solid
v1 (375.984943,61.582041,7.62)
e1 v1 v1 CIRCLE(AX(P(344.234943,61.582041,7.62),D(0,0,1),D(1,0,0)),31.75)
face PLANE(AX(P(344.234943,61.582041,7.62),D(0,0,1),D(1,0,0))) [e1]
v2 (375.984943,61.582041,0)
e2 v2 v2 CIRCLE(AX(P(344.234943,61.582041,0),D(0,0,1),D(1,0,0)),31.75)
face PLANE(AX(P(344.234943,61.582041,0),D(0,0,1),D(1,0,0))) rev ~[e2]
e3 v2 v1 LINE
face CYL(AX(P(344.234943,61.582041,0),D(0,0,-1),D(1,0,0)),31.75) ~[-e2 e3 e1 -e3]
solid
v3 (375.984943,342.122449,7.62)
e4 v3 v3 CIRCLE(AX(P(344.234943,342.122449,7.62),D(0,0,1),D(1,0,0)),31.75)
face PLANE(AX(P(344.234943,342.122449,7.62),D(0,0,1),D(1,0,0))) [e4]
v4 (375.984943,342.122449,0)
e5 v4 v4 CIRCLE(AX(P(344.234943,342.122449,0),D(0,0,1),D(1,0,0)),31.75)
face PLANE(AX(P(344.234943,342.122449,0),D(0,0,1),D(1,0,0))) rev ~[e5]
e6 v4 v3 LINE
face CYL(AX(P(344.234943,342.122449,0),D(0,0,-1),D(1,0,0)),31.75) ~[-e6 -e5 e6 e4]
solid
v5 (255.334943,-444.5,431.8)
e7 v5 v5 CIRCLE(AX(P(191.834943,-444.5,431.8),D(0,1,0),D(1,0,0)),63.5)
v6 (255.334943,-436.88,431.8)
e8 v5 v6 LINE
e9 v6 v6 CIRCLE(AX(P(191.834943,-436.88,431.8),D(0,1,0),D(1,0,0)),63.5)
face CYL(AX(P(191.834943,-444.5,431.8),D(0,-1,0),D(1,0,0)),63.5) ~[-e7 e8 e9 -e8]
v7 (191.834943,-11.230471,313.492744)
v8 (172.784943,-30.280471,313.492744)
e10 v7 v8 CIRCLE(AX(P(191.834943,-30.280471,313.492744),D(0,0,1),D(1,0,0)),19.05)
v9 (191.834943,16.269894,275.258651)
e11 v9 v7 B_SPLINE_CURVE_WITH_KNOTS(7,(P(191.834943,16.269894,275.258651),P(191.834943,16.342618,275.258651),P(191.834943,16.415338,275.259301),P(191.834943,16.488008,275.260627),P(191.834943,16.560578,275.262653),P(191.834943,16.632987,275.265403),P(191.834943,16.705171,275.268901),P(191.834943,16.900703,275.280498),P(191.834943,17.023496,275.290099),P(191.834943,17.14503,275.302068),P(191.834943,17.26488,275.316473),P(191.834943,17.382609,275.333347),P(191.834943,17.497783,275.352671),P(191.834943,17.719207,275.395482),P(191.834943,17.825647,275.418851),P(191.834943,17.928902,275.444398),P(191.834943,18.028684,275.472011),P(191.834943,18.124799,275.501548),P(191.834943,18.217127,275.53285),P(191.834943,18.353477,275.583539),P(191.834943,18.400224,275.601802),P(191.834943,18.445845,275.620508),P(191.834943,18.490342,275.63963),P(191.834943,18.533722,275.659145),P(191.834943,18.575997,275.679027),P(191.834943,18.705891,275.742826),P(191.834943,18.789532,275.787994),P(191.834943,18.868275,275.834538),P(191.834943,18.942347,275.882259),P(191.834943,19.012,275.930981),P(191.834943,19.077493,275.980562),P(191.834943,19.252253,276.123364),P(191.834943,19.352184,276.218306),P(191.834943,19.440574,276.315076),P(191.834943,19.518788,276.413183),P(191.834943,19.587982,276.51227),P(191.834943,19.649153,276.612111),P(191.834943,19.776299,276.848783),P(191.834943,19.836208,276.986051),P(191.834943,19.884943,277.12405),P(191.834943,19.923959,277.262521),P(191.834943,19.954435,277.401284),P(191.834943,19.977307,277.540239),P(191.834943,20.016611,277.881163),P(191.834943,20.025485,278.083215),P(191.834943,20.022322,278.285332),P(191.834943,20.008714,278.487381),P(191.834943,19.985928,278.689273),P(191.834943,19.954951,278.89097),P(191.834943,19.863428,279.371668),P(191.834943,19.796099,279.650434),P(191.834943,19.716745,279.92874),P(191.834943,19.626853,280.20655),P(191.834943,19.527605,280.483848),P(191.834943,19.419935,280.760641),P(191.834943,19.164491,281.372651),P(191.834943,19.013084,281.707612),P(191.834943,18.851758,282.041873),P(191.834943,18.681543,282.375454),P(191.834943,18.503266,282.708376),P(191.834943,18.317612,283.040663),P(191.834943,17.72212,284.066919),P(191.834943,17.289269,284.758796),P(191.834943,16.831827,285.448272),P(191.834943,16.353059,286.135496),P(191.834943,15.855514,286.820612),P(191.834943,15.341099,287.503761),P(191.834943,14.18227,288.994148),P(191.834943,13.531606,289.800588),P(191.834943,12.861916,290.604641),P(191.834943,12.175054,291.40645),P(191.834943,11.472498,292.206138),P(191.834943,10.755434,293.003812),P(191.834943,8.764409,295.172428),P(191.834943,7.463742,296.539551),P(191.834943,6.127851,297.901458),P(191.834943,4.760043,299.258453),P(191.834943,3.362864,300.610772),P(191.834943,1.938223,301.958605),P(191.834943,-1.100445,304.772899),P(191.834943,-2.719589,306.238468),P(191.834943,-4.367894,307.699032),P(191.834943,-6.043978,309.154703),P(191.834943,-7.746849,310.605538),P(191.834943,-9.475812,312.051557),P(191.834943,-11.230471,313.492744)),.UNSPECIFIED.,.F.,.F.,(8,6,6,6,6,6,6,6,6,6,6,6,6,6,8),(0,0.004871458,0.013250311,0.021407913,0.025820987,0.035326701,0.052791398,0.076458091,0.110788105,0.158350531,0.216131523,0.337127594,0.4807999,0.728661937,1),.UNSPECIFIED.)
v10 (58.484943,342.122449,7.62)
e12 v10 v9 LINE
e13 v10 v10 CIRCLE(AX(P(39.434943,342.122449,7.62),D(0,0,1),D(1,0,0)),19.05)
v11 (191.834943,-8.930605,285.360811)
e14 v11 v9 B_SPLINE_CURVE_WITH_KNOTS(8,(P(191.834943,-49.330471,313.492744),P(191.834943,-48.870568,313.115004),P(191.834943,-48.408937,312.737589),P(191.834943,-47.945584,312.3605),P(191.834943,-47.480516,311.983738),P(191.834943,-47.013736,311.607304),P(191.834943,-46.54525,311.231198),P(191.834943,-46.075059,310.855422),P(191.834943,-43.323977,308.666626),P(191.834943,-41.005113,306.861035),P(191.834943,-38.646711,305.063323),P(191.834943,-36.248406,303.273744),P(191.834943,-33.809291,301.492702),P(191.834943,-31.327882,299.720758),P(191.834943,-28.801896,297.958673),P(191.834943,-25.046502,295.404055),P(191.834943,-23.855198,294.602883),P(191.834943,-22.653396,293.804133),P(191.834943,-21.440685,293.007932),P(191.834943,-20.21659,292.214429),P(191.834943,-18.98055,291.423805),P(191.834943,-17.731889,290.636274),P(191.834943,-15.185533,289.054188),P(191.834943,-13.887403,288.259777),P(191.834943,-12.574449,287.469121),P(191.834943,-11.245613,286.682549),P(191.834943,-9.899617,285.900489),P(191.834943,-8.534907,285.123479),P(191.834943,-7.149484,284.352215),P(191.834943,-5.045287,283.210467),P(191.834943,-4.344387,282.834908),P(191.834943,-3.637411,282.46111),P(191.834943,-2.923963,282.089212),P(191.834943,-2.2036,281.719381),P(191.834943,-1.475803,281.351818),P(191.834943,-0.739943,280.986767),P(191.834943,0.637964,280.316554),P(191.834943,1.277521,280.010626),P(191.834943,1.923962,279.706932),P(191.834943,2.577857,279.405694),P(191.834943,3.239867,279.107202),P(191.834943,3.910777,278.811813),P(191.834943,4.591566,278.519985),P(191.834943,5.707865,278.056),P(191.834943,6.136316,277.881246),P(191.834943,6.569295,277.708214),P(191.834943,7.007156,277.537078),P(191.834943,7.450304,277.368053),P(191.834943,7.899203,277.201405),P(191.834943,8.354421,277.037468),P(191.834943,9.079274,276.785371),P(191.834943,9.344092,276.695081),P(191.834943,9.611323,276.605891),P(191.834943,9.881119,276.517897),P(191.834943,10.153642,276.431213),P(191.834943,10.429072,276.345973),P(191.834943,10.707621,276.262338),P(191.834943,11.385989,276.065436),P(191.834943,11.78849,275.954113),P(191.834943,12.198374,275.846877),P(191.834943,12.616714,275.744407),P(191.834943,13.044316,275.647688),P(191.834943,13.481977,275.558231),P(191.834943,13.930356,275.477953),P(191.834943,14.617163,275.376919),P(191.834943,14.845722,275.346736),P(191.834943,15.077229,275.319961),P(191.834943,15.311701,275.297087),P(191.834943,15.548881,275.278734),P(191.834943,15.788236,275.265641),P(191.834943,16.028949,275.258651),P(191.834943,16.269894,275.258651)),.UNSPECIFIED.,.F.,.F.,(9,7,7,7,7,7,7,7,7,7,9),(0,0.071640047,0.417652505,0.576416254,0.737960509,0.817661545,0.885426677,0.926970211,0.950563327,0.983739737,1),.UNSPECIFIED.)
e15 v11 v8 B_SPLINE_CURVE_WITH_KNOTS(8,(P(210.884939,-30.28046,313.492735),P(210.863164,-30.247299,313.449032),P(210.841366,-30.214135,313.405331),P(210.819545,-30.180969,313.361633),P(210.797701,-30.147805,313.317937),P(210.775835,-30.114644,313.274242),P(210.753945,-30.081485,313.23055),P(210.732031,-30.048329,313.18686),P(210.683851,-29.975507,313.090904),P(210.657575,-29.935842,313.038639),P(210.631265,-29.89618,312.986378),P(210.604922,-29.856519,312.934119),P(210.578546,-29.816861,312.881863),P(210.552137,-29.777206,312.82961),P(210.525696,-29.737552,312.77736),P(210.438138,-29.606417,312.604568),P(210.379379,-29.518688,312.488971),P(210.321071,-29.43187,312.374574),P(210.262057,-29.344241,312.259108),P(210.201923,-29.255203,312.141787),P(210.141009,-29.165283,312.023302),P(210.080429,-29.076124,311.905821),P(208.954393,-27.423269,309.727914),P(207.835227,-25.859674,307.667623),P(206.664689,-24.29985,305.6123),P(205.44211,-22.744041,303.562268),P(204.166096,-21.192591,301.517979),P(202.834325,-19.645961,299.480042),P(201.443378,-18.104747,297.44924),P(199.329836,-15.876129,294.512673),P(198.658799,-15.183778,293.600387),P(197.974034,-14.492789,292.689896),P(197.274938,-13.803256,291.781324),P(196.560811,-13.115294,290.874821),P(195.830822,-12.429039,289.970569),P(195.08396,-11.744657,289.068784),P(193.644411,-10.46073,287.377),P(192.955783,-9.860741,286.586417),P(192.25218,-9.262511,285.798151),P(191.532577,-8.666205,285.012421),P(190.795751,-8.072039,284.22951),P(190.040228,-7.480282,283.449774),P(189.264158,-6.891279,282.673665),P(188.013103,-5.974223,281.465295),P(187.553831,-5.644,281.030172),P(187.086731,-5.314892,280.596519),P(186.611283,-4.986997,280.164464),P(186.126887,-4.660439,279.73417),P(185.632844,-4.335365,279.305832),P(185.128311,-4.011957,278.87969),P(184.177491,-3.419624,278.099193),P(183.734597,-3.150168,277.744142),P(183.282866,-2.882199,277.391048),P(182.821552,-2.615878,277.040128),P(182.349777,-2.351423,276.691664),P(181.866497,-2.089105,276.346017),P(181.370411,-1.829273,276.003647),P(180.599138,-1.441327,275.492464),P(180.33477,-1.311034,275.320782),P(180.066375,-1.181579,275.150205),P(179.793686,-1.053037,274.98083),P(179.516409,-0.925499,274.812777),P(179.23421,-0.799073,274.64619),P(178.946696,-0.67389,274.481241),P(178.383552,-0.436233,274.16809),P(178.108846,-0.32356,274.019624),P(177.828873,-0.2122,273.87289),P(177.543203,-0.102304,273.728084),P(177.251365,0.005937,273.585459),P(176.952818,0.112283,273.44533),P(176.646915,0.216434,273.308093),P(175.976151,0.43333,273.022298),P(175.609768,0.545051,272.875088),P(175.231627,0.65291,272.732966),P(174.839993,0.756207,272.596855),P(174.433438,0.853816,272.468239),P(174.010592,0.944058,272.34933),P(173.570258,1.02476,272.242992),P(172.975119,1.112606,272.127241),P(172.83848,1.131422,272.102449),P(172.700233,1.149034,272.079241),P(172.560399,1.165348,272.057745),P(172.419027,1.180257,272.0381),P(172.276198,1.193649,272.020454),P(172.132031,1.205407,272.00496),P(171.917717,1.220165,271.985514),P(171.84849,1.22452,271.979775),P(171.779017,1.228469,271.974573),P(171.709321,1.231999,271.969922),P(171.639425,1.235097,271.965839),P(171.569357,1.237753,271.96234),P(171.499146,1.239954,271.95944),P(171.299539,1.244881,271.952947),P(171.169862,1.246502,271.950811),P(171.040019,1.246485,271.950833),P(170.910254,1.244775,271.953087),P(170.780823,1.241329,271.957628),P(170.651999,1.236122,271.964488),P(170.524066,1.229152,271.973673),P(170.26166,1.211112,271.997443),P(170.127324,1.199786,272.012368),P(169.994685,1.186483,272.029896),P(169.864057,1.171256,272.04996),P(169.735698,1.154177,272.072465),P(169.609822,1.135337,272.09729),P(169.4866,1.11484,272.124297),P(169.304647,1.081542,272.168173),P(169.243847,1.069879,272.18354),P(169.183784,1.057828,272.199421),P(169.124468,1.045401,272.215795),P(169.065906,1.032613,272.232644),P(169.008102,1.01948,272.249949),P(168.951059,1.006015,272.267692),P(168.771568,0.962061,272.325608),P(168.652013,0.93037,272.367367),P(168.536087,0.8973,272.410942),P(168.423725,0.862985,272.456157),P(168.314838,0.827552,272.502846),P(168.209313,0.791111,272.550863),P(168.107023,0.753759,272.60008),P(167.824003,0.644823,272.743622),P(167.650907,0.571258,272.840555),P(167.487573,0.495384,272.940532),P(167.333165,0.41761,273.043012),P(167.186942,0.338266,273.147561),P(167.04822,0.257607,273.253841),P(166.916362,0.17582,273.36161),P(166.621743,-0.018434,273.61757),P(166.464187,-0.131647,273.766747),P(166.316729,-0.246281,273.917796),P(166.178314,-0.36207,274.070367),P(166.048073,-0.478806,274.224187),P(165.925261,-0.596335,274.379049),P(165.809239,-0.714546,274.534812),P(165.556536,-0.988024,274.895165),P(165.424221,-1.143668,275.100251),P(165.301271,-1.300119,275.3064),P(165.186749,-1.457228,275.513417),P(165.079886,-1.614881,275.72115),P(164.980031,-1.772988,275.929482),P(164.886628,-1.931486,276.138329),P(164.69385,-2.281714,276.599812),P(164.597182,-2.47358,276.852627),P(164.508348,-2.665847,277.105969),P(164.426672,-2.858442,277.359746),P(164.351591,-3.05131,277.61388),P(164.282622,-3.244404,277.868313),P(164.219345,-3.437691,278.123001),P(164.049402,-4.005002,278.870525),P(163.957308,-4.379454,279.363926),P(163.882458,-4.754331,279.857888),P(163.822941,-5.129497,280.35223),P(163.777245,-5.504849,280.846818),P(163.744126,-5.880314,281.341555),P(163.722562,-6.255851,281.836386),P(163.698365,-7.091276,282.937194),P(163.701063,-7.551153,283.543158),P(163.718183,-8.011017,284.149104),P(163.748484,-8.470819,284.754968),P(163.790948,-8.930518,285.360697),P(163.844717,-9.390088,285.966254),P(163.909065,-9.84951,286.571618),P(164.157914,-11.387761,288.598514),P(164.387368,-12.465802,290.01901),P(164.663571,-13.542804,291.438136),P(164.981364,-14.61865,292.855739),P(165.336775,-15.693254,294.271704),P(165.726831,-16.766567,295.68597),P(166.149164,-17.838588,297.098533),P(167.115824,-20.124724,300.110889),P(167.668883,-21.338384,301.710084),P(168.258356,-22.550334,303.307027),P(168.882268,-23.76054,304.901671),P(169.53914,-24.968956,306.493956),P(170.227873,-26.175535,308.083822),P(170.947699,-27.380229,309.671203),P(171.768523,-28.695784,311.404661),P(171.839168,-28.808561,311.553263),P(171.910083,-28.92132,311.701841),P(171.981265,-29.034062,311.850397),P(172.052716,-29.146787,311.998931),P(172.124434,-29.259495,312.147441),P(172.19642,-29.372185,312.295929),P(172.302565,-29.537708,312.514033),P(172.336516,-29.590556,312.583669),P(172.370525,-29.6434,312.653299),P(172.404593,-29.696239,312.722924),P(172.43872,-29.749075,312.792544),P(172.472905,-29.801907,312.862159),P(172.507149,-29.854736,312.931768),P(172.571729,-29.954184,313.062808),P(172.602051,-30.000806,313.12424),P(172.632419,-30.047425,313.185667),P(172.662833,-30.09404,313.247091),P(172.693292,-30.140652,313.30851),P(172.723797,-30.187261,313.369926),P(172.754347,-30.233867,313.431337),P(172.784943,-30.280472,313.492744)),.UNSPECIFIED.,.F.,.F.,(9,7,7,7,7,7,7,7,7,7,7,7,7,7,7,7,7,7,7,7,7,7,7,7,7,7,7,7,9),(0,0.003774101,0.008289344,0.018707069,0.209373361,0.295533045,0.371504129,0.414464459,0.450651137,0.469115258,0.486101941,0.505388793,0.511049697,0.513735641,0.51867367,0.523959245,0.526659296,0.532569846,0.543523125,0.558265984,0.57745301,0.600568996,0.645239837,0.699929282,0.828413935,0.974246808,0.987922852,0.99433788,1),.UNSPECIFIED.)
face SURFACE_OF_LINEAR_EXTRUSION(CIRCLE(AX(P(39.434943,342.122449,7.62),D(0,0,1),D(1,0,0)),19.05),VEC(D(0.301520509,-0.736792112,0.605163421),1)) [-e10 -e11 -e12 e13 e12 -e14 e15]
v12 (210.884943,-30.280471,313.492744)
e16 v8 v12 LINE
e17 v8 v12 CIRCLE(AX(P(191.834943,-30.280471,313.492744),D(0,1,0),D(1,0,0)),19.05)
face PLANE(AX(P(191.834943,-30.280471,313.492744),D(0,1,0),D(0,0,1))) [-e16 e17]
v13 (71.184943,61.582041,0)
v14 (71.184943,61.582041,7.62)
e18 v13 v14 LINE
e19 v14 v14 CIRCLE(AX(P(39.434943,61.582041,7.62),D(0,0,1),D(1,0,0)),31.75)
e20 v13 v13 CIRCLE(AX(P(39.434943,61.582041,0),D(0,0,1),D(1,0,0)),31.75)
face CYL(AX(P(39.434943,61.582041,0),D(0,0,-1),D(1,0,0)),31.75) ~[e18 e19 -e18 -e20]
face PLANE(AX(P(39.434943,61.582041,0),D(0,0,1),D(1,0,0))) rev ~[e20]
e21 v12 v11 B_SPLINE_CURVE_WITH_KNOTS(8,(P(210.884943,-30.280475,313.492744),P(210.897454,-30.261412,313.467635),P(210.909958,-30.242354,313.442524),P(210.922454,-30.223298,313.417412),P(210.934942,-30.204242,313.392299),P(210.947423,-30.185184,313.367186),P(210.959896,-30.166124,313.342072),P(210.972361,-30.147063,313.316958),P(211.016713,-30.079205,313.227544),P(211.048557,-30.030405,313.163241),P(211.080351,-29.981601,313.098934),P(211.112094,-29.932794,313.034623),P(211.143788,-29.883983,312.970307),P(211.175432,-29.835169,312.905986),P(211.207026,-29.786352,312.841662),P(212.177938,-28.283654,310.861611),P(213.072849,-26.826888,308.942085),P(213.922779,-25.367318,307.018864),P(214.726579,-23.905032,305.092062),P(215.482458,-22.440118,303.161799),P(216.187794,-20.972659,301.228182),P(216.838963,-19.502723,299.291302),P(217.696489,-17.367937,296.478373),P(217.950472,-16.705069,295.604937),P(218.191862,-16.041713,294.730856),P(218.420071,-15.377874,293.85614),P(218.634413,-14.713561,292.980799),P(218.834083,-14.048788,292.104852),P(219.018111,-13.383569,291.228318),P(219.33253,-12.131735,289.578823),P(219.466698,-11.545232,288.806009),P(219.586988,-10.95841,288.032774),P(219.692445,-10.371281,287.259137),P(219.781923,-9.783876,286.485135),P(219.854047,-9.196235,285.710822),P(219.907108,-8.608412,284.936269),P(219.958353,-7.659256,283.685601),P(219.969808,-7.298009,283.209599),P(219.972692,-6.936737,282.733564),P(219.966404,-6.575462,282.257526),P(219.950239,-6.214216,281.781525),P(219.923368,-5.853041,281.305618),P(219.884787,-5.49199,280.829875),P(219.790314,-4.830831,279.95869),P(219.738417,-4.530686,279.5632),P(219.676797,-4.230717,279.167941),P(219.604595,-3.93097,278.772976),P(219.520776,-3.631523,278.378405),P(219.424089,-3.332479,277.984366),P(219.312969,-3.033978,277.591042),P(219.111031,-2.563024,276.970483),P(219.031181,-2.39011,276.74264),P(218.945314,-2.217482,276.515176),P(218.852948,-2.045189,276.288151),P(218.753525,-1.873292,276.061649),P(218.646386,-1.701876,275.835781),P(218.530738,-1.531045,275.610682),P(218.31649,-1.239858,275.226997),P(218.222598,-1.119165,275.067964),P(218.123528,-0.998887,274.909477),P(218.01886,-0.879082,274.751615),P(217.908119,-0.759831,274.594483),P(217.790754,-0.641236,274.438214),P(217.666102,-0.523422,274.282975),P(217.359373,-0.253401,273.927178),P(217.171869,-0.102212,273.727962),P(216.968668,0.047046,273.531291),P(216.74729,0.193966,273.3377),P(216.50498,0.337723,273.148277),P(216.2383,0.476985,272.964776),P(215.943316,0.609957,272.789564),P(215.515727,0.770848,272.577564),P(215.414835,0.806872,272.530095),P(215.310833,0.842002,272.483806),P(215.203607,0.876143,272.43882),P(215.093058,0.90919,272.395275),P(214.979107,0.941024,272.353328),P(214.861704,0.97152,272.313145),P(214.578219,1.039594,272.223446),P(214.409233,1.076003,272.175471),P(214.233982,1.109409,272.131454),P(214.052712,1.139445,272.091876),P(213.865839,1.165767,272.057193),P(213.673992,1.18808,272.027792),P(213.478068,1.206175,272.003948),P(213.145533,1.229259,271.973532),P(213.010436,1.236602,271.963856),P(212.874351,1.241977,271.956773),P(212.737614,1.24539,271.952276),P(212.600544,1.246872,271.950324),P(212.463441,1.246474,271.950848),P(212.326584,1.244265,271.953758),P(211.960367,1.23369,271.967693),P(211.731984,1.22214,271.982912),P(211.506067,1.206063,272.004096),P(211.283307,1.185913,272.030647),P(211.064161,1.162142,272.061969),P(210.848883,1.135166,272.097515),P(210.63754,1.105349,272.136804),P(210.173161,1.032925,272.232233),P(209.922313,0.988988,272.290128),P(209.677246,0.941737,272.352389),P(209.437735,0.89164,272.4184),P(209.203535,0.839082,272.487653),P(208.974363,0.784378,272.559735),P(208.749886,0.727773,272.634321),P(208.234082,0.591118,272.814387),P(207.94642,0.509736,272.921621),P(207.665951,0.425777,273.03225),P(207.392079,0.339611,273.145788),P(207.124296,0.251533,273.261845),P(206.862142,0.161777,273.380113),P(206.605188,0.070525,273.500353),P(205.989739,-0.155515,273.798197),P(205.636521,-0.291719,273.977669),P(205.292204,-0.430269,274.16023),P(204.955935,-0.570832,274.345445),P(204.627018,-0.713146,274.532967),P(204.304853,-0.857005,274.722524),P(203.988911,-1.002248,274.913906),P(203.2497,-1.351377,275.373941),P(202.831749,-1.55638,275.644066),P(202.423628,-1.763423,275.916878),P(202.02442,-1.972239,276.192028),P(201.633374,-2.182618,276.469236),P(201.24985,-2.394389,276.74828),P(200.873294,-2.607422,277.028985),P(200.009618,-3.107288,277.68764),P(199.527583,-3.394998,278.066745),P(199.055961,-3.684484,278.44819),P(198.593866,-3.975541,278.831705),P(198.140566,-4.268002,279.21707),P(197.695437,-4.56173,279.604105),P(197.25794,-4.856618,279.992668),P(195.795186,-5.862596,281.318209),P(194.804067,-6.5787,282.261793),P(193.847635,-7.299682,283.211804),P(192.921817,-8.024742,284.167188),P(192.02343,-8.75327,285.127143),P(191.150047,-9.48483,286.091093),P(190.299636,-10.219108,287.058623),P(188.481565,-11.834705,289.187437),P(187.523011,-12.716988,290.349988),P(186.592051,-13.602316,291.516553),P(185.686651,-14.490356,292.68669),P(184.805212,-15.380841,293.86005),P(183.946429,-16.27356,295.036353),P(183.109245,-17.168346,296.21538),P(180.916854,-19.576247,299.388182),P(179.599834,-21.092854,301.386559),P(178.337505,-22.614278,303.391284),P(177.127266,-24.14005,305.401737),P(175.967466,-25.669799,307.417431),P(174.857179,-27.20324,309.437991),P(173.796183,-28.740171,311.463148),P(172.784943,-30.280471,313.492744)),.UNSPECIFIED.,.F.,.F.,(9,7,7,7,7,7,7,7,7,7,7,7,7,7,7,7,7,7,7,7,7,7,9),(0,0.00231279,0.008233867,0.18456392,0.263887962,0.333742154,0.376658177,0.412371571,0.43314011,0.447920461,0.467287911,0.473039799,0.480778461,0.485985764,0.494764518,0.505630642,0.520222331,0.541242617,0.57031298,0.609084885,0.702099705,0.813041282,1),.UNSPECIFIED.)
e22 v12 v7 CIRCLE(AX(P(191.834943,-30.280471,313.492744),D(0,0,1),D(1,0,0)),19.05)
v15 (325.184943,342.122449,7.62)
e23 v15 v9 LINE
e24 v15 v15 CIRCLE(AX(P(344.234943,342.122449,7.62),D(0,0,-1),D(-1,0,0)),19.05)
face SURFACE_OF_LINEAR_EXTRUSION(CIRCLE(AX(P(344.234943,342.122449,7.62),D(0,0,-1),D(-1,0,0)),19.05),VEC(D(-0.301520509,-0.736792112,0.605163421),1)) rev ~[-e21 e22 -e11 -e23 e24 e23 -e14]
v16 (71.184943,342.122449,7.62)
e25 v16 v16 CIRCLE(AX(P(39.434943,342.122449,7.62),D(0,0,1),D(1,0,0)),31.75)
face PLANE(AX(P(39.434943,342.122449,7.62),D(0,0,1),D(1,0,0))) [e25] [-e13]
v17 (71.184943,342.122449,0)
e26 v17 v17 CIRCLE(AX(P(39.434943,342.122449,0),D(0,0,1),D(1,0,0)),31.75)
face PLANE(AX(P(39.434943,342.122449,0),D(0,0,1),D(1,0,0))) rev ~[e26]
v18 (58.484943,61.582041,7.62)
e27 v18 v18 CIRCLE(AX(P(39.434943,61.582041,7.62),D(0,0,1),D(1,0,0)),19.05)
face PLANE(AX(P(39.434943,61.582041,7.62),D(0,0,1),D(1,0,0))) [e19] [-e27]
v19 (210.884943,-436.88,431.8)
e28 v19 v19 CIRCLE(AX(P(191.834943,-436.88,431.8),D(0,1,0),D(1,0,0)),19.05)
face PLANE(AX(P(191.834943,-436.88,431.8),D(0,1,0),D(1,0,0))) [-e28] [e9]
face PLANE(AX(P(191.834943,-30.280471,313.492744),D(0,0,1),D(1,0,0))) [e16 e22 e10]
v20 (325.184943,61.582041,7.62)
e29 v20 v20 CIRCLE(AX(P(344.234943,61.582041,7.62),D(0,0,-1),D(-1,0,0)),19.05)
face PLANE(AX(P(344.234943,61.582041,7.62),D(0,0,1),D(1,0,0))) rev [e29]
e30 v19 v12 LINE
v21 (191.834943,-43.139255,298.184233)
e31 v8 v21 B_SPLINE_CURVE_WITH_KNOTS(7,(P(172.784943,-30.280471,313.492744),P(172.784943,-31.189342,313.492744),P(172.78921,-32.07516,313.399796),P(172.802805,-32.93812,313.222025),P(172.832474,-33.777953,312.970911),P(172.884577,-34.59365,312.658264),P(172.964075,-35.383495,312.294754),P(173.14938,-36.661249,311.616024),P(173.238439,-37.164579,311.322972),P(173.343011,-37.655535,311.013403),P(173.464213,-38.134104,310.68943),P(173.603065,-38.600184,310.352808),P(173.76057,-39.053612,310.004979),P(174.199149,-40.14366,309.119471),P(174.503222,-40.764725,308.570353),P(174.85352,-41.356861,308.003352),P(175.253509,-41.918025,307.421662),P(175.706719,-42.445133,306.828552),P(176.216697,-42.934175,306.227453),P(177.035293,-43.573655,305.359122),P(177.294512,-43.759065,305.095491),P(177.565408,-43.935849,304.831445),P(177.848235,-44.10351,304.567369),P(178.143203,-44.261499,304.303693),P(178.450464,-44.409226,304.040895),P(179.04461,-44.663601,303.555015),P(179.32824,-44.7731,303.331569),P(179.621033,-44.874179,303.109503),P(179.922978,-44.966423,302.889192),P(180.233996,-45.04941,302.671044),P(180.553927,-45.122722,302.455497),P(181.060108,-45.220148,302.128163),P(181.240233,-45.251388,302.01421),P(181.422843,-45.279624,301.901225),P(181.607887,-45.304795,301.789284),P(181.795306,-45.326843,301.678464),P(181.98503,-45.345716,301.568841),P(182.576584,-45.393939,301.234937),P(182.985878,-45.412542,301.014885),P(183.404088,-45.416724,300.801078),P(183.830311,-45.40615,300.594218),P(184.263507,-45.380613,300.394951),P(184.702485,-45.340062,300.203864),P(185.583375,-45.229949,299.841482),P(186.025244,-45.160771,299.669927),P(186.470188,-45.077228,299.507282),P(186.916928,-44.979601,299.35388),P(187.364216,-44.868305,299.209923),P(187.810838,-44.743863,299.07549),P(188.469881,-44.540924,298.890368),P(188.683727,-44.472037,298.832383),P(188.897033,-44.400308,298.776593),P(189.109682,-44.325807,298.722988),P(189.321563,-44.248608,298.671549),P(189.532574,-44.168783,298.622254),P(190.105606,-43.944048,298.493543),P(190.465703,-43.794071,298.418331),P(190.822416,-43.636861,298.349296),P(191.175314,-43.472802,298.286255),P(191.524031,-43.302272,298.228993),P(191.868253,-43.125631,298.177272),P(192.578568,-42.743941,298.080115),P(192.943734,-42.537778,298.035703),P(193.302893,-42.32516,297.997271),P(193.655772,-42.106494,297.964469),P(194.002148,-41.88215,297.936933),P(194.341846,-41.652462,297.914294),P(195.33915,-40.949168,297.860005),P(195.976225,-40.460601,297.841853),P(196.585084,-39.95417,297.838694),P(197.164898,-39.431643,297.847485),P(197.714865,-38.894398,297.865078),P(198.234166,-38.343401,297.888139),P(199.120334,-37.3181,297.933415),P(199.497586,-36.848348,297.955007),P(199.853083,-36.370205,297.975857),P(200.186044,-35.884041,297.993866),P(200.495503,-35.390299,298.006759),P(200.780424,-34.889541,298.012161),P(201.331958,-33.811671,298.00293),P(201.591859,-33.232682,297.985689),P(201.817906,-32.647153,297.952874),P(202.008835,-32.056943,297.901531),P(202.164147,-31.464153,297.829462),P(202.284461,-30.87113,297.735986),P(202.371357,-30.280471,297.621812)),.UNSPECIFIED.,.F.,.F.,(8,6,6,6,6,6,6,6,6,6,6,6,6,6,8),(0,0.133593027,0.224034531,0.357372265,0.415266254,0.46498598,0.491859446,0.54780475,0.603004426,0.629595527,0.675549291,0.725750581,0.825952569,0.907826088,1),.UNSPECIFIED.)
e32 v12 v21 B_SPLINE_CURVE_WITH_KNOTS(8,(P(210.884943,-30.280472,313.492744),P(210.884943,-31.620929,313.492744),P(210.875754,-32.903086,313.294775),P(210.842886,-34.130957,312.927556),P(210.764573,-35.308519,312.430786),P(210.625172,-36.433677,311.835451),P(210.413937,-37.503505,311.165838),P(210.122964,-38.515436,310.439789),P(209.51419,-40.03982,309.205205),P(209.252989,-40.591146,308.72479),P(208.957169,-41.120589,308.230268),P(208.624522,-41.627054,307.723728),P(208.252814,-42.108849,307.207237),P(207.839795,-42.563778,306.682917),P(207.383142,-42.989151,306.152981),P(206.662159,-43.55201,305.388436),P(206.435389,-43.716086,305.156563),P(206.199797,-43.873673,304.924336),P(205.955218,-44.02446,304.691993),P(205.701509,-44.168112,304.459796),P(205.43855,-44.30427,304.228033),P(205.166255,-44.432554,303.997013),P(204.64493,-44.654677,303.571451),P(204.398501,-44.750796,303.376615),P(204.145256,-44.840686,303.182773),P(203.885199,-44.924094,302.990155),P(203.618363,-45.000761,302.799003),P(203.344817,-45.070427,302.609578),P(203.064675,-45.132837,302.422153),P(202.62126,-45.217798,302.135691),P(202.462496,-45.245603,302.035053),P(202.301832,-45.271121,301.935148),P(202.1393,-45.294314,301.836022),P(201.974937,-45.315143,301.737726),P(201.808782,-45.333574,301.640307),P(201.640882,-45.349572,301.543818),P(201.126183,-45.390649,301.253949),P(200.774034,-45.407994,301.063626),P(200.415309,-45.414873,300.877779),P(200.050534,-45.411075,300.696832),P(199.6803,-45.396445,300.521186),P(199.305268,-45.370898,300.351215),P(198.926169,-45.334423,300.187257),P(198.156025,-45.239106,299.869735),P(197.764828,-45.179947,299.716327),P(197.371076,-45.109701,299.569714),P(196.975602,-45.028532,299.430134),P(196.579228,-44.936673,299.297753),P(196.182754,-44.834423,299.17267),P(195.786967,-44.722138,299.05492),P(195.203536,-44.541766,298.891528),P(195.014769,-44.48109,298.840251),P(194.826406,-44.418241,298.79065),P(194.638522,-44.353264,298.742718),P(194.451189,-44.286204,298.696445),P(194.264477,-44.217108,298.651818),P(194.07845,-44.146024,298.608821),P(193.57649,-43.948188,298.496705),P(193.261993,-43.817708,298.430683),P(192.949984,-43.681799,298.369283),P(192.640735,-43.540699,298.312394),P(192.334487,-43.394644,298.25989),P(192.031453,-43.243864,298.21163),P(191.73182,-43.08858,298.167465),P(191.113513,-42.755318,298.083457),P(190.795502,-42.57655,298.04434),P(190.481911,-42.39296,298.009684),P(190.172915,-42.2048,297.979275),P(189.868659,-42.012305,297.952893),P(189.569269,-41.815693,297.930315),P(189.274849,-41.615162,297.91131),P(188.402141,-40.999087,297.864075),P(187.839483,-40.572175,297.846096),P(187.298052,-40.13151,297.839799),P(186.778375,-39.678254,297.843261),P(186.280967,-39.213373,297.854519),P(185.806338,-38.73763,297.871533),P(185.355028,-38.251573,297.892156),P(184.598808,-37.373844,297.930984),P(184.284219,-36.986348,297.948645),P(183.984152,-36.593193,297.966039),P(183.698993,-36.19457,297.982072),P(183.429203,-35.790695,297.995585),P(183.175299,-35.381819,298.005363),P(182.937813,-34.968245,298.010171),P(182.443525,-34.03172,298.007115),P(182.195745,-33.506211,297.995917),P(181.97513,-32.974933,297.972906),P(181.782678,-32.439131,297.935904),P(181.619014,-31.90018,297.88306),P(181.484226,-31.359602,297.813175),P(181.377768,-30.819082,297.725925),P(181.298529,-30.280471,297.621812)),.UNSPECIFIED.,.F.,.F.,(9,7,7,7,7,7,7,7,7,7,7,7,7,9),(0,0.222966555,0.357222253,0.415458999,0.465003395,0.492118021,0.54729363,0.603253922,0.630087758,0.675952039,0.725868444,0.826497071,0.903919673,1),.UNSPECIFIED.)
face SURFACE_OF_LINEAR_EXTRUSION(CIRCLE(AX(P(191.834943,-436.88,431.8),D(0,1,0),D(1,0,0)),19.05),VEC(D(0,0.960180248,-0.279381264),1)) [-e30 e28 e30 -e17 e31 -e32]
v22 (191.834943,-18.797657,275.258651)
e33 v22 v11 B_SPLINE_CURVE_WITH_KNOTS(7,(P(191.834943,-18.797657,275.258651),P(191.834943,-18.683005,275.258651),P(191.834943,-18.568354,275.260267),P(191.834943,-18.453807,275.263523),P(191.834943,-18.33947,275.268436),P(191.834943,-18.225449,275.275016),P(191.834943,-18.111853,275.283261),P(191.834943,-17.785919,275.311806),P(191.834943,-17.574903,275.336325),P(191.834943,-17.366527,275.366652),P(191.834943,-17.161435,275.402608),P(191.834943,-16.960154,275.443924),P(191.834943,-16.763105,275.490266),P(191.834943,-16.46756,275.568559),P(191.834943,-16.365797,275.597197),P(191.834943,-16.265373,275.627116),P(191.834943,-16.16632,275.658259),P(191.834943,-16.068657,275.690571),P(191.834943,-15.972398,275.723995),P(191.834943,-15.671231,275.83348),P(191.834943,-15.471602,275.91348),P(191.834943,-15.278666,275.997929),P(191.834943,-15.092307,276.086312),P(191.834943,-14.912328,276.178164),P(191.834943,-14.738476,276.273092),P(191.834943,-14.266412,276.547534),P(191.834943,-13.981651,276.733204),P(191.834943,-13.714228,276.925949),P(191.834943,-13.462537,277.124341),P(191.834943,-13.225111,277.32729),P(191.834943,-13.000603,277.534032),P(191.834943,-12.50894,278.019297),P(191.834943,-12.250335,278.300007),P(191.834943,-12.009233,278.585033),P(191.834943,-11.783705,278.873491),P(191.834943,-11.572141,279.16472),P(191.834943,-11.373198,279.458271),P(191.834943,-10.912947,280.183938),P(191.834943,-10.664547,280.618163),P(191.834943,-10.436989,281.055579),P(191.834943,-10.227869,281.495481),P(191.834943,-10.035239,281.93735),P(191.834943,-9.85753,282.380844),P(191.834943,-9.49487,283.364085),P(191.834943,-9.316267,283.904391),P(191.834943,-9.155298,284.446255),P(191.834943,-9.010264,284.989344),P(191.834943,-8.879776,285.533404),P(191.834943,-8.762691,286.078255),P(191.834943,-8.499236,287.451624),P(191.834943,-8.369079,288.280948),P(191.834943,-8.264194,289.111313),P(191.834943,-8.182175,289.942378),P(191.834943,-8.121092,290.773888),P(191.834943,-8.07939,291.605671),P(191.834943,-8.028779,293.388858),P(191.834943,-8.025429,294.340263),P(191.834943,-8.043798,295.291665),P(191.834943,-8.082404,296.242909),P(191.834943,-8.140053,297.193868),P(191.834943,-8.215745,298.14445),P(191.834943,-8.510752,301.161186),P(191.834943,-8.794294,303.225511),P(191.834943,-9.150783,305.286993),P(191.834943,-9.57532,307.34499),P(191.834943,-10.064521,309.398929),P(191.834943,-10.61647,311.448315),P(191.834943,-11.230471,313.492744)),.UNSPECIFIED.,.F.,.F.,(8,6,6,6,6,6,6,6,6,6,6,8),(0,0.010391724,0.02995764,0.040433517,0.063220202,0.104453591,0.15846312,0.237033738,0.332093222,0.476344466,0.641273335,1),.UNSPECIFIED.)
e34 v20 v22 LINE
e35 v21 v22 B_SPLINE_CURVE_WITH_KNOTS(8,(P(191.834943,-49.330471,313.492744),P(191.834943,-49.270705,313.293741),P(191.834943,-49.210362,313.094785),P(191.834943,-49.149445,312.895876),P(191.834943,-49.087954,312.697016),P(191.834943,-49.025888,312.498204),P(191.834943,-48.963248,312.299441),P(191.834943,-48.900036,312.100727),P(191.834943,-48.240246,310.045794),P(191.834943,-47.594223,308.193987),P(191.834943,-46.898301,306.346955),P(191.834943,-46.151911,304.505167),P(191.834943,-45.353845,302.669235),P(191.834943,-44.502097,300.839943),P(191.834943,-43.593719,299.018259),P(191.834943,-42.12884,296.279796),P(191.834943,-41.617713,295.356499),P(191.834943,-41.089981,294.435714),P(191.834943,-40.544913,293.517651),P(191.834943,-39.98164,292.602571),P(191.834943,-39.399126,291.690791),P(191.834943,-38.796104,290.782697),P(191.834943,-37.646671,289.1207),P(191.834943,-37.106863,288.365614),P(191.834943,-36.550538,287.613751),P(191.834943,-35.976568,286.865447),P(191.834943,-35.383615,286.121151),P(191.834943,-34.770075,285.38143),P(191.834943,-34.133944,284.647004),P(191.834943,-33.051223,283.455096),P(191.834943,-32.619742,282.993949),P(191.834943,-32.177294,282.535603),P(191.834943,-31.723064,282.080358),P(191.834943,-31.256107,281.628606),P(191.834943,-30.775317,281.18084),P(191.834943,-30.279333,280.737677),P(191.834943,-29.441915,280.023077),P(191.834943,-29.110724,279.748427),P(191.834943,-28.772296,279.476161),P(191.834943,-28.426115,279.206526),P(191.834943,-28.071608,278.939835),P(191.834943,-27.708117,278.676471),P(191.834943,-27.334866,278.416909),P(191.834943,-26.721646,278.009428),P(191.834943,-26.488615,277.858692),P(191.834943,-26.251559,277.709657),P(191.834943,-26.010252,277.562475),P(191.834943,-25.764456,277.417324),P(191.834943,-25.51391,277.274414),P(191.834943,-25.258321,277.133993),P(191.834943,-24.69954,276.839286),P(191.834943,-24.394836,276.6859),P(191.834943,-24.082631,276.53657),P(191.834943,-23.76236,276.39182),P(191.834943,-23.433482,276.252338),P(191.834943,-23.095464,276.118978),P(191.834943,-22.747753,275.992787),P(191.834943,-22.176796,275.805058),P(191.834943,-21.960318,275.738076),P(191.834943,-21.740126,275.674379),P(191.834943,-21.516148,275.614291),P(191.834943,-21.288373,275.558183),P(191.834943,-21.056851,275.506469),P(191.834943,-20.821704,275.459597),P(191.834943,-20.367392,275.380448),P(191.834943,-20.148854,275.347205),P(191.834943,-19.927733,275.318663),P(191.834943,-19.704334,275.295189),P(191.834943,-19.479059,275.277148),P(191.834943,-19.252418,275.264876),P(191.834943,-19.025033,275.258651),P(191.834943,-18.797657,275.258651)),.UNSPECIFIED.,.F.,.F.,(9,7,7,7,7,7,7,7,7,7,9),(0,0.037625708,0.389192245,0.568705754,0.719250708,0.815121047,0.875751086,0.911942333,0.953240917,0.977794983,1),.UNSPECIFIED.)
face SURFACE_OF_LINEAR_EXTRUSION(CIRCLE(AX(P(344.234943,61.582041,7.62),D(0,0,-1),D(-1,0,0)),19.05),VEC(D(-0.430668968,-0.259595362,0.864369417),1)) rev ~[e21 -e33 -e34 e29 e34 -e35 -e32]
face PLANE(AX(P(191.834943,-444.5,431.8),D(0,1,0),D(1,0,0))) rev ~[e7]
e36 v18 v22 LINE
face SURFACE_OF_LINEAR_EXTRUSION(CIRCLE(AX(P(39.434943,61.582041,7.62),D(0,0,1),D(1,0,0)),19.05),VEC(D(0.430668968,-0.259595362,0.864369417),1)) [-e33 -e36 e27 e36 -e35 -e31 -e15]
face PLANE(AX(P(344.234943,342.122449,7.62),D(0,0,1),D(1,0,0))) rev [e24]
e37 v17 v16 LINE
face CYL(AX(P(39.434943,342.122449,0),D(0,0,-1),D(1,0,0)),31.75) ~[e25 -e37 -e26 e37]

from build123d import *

# Parameters (mm, degrees)
BOSS_EXTRUDE2_START   = -444.5
SKETCH2_R             = 63.5
BOSS_EXTRUDE2_DEPTH   = 7.62
SKETCH1_R             = 31.75
BOSS_EXTRUDE1_DEPTH   = 7.62
BOSS_EXTRUDE1_2_DEPTH = 7.62
BOSS_EXTRUDE1_3_DEPTH = 7.62
BOSS_EXTRUDE1_4_DEPTH = 7.62
SKETCH4_R             = 19.05
SKETCH6_R             = 19.05
SKETCH7_R             = 19.05


with BuildPart() as part:
    # Sketch2 → Boss-Extrude2 (new body)
    with BuildSketch(Plane(origin=(0, 0, 0), x_dir=(1, 0, 0), z_dir=(0, 1, 0)).offset(BOSS_EXTRUDE2_START)):
        with Locations((191.834943245, -431.8)):
            Circle(SKETCH2_R)
    extrude(amount=BOSS_EXTRUDE2_DEPTH)

    # Sweep1: sweep along a path in Sketch3
    with BuildLine(Plane(origin=(191.834943245, 0, 0), x_dir=(0, 0, -1), z_dir=(1, 0, 0))) as sweep1_path:
        Line((-431.8, -436.88), (-313.492744217, -30.280470951))
    # Sketch4 → Sweep1 (sweep)
    with BuildSketch(Plane(origin=(0, -436.88, 0), x_dir=(1, 0, 0), z_dir=(0, 1, 0))):
        with Locations((191.834943245, -431.8)):
            Circle(SKETCH4_R)
    sweep(path=sweep1_path.line)



with BuildPart() as body_2:
    # Sketch1 → Boss-Extrude1 (new body)
    with BuildSketch(Plane.XY):
        with Locations((39.434943245, 61.582040816)):
            Circle(SKETCH1_R)
    extrude(amount=BOSS_EXTRUDE1_DEPTH)


with BuildPart() as body_3:
    # Sketch1 → Boss-Extrude1 2 (new body)
    with BuildSketch(Plane.XY):
        with Locations((39.434943245, 342.12244898)):
            Circle(SKETCH1_R)
    extrude(amount=BOSS_EXTRUDE1_2_DEPTH)


with BuildPart() as body_4:
    # Sketch1 → Boss-Extrude1 3 (new body)
    with BuildSketch(Plane.XY):
        with Locations((344.234943245, 342.12244898)):
            Circle(SKETCH1_R)
    extrude(amount=BOSS_EXTRUDE1_3_DEPTH)


with BuildPart() as body_5:
    # Sketch1 → Boss-Extrude1 4 (new body)
    with BuildSketch(Plane.XY):
        with Locations((344.234943245, 61.582040816)):
            Circle(SKETCH1_R)
    extrude(amount=BOSS_EXTRUDE1_4_DEPTH)


with BuildPart() as part_1:
    add(part.part)

    add(body_3.part)  # Sweep2 merges body 3
    # Sweep2: sweep along a curve in space
    with BuildLine() as sweep2_path:
        Line((39.434943245, 342.12244898, 7.62), (191.834943245, -30.280470951, 313.492744217))
    # Sketch6 → Sweep2 (sweep)
    with BuildSketch(Plane.XY.offset(7.62)):
        with Locations((39.434943245, 342.12244898)):
            Circle(SKETCH6_R)
    sweep2 = sweep(path=sweep2_path.line)


    add(body_2.part)  # Sweep3 merges body 2
    # Sweep3: sweep along a curve in space
    with BuildLine() as sweep3_path:
        Line((39.434943245, 61.582040816, 7.62), (191.834943245, -30.280470951, 313.492744217))
    # Sketch7 → Sweep3 (sweep)
    with BuildSketch(Plane.XY.offset(7.62)):
        with Locations((39.434943245, 61.582040816)):
            Circle(SKETCH7_R)
    sweep3 = sweep(path=sweep3_path.line)

    # Mirror1: Sweep2, Sweep3 across plane
    add(sweep2.mirror(Plane(origin=(191.834943245, 0, 0), x_dir=(0, 0, 1), z_dir=(1, 0, 0))))
    add(sweep3.mirror(Plane(origin=(191.834943245, 0, 0), x_dir=(0, 0, 1), z_dir=(1, 0, 0))))


solid = Compound([body_4.part, body_5.part, part_1.part])
